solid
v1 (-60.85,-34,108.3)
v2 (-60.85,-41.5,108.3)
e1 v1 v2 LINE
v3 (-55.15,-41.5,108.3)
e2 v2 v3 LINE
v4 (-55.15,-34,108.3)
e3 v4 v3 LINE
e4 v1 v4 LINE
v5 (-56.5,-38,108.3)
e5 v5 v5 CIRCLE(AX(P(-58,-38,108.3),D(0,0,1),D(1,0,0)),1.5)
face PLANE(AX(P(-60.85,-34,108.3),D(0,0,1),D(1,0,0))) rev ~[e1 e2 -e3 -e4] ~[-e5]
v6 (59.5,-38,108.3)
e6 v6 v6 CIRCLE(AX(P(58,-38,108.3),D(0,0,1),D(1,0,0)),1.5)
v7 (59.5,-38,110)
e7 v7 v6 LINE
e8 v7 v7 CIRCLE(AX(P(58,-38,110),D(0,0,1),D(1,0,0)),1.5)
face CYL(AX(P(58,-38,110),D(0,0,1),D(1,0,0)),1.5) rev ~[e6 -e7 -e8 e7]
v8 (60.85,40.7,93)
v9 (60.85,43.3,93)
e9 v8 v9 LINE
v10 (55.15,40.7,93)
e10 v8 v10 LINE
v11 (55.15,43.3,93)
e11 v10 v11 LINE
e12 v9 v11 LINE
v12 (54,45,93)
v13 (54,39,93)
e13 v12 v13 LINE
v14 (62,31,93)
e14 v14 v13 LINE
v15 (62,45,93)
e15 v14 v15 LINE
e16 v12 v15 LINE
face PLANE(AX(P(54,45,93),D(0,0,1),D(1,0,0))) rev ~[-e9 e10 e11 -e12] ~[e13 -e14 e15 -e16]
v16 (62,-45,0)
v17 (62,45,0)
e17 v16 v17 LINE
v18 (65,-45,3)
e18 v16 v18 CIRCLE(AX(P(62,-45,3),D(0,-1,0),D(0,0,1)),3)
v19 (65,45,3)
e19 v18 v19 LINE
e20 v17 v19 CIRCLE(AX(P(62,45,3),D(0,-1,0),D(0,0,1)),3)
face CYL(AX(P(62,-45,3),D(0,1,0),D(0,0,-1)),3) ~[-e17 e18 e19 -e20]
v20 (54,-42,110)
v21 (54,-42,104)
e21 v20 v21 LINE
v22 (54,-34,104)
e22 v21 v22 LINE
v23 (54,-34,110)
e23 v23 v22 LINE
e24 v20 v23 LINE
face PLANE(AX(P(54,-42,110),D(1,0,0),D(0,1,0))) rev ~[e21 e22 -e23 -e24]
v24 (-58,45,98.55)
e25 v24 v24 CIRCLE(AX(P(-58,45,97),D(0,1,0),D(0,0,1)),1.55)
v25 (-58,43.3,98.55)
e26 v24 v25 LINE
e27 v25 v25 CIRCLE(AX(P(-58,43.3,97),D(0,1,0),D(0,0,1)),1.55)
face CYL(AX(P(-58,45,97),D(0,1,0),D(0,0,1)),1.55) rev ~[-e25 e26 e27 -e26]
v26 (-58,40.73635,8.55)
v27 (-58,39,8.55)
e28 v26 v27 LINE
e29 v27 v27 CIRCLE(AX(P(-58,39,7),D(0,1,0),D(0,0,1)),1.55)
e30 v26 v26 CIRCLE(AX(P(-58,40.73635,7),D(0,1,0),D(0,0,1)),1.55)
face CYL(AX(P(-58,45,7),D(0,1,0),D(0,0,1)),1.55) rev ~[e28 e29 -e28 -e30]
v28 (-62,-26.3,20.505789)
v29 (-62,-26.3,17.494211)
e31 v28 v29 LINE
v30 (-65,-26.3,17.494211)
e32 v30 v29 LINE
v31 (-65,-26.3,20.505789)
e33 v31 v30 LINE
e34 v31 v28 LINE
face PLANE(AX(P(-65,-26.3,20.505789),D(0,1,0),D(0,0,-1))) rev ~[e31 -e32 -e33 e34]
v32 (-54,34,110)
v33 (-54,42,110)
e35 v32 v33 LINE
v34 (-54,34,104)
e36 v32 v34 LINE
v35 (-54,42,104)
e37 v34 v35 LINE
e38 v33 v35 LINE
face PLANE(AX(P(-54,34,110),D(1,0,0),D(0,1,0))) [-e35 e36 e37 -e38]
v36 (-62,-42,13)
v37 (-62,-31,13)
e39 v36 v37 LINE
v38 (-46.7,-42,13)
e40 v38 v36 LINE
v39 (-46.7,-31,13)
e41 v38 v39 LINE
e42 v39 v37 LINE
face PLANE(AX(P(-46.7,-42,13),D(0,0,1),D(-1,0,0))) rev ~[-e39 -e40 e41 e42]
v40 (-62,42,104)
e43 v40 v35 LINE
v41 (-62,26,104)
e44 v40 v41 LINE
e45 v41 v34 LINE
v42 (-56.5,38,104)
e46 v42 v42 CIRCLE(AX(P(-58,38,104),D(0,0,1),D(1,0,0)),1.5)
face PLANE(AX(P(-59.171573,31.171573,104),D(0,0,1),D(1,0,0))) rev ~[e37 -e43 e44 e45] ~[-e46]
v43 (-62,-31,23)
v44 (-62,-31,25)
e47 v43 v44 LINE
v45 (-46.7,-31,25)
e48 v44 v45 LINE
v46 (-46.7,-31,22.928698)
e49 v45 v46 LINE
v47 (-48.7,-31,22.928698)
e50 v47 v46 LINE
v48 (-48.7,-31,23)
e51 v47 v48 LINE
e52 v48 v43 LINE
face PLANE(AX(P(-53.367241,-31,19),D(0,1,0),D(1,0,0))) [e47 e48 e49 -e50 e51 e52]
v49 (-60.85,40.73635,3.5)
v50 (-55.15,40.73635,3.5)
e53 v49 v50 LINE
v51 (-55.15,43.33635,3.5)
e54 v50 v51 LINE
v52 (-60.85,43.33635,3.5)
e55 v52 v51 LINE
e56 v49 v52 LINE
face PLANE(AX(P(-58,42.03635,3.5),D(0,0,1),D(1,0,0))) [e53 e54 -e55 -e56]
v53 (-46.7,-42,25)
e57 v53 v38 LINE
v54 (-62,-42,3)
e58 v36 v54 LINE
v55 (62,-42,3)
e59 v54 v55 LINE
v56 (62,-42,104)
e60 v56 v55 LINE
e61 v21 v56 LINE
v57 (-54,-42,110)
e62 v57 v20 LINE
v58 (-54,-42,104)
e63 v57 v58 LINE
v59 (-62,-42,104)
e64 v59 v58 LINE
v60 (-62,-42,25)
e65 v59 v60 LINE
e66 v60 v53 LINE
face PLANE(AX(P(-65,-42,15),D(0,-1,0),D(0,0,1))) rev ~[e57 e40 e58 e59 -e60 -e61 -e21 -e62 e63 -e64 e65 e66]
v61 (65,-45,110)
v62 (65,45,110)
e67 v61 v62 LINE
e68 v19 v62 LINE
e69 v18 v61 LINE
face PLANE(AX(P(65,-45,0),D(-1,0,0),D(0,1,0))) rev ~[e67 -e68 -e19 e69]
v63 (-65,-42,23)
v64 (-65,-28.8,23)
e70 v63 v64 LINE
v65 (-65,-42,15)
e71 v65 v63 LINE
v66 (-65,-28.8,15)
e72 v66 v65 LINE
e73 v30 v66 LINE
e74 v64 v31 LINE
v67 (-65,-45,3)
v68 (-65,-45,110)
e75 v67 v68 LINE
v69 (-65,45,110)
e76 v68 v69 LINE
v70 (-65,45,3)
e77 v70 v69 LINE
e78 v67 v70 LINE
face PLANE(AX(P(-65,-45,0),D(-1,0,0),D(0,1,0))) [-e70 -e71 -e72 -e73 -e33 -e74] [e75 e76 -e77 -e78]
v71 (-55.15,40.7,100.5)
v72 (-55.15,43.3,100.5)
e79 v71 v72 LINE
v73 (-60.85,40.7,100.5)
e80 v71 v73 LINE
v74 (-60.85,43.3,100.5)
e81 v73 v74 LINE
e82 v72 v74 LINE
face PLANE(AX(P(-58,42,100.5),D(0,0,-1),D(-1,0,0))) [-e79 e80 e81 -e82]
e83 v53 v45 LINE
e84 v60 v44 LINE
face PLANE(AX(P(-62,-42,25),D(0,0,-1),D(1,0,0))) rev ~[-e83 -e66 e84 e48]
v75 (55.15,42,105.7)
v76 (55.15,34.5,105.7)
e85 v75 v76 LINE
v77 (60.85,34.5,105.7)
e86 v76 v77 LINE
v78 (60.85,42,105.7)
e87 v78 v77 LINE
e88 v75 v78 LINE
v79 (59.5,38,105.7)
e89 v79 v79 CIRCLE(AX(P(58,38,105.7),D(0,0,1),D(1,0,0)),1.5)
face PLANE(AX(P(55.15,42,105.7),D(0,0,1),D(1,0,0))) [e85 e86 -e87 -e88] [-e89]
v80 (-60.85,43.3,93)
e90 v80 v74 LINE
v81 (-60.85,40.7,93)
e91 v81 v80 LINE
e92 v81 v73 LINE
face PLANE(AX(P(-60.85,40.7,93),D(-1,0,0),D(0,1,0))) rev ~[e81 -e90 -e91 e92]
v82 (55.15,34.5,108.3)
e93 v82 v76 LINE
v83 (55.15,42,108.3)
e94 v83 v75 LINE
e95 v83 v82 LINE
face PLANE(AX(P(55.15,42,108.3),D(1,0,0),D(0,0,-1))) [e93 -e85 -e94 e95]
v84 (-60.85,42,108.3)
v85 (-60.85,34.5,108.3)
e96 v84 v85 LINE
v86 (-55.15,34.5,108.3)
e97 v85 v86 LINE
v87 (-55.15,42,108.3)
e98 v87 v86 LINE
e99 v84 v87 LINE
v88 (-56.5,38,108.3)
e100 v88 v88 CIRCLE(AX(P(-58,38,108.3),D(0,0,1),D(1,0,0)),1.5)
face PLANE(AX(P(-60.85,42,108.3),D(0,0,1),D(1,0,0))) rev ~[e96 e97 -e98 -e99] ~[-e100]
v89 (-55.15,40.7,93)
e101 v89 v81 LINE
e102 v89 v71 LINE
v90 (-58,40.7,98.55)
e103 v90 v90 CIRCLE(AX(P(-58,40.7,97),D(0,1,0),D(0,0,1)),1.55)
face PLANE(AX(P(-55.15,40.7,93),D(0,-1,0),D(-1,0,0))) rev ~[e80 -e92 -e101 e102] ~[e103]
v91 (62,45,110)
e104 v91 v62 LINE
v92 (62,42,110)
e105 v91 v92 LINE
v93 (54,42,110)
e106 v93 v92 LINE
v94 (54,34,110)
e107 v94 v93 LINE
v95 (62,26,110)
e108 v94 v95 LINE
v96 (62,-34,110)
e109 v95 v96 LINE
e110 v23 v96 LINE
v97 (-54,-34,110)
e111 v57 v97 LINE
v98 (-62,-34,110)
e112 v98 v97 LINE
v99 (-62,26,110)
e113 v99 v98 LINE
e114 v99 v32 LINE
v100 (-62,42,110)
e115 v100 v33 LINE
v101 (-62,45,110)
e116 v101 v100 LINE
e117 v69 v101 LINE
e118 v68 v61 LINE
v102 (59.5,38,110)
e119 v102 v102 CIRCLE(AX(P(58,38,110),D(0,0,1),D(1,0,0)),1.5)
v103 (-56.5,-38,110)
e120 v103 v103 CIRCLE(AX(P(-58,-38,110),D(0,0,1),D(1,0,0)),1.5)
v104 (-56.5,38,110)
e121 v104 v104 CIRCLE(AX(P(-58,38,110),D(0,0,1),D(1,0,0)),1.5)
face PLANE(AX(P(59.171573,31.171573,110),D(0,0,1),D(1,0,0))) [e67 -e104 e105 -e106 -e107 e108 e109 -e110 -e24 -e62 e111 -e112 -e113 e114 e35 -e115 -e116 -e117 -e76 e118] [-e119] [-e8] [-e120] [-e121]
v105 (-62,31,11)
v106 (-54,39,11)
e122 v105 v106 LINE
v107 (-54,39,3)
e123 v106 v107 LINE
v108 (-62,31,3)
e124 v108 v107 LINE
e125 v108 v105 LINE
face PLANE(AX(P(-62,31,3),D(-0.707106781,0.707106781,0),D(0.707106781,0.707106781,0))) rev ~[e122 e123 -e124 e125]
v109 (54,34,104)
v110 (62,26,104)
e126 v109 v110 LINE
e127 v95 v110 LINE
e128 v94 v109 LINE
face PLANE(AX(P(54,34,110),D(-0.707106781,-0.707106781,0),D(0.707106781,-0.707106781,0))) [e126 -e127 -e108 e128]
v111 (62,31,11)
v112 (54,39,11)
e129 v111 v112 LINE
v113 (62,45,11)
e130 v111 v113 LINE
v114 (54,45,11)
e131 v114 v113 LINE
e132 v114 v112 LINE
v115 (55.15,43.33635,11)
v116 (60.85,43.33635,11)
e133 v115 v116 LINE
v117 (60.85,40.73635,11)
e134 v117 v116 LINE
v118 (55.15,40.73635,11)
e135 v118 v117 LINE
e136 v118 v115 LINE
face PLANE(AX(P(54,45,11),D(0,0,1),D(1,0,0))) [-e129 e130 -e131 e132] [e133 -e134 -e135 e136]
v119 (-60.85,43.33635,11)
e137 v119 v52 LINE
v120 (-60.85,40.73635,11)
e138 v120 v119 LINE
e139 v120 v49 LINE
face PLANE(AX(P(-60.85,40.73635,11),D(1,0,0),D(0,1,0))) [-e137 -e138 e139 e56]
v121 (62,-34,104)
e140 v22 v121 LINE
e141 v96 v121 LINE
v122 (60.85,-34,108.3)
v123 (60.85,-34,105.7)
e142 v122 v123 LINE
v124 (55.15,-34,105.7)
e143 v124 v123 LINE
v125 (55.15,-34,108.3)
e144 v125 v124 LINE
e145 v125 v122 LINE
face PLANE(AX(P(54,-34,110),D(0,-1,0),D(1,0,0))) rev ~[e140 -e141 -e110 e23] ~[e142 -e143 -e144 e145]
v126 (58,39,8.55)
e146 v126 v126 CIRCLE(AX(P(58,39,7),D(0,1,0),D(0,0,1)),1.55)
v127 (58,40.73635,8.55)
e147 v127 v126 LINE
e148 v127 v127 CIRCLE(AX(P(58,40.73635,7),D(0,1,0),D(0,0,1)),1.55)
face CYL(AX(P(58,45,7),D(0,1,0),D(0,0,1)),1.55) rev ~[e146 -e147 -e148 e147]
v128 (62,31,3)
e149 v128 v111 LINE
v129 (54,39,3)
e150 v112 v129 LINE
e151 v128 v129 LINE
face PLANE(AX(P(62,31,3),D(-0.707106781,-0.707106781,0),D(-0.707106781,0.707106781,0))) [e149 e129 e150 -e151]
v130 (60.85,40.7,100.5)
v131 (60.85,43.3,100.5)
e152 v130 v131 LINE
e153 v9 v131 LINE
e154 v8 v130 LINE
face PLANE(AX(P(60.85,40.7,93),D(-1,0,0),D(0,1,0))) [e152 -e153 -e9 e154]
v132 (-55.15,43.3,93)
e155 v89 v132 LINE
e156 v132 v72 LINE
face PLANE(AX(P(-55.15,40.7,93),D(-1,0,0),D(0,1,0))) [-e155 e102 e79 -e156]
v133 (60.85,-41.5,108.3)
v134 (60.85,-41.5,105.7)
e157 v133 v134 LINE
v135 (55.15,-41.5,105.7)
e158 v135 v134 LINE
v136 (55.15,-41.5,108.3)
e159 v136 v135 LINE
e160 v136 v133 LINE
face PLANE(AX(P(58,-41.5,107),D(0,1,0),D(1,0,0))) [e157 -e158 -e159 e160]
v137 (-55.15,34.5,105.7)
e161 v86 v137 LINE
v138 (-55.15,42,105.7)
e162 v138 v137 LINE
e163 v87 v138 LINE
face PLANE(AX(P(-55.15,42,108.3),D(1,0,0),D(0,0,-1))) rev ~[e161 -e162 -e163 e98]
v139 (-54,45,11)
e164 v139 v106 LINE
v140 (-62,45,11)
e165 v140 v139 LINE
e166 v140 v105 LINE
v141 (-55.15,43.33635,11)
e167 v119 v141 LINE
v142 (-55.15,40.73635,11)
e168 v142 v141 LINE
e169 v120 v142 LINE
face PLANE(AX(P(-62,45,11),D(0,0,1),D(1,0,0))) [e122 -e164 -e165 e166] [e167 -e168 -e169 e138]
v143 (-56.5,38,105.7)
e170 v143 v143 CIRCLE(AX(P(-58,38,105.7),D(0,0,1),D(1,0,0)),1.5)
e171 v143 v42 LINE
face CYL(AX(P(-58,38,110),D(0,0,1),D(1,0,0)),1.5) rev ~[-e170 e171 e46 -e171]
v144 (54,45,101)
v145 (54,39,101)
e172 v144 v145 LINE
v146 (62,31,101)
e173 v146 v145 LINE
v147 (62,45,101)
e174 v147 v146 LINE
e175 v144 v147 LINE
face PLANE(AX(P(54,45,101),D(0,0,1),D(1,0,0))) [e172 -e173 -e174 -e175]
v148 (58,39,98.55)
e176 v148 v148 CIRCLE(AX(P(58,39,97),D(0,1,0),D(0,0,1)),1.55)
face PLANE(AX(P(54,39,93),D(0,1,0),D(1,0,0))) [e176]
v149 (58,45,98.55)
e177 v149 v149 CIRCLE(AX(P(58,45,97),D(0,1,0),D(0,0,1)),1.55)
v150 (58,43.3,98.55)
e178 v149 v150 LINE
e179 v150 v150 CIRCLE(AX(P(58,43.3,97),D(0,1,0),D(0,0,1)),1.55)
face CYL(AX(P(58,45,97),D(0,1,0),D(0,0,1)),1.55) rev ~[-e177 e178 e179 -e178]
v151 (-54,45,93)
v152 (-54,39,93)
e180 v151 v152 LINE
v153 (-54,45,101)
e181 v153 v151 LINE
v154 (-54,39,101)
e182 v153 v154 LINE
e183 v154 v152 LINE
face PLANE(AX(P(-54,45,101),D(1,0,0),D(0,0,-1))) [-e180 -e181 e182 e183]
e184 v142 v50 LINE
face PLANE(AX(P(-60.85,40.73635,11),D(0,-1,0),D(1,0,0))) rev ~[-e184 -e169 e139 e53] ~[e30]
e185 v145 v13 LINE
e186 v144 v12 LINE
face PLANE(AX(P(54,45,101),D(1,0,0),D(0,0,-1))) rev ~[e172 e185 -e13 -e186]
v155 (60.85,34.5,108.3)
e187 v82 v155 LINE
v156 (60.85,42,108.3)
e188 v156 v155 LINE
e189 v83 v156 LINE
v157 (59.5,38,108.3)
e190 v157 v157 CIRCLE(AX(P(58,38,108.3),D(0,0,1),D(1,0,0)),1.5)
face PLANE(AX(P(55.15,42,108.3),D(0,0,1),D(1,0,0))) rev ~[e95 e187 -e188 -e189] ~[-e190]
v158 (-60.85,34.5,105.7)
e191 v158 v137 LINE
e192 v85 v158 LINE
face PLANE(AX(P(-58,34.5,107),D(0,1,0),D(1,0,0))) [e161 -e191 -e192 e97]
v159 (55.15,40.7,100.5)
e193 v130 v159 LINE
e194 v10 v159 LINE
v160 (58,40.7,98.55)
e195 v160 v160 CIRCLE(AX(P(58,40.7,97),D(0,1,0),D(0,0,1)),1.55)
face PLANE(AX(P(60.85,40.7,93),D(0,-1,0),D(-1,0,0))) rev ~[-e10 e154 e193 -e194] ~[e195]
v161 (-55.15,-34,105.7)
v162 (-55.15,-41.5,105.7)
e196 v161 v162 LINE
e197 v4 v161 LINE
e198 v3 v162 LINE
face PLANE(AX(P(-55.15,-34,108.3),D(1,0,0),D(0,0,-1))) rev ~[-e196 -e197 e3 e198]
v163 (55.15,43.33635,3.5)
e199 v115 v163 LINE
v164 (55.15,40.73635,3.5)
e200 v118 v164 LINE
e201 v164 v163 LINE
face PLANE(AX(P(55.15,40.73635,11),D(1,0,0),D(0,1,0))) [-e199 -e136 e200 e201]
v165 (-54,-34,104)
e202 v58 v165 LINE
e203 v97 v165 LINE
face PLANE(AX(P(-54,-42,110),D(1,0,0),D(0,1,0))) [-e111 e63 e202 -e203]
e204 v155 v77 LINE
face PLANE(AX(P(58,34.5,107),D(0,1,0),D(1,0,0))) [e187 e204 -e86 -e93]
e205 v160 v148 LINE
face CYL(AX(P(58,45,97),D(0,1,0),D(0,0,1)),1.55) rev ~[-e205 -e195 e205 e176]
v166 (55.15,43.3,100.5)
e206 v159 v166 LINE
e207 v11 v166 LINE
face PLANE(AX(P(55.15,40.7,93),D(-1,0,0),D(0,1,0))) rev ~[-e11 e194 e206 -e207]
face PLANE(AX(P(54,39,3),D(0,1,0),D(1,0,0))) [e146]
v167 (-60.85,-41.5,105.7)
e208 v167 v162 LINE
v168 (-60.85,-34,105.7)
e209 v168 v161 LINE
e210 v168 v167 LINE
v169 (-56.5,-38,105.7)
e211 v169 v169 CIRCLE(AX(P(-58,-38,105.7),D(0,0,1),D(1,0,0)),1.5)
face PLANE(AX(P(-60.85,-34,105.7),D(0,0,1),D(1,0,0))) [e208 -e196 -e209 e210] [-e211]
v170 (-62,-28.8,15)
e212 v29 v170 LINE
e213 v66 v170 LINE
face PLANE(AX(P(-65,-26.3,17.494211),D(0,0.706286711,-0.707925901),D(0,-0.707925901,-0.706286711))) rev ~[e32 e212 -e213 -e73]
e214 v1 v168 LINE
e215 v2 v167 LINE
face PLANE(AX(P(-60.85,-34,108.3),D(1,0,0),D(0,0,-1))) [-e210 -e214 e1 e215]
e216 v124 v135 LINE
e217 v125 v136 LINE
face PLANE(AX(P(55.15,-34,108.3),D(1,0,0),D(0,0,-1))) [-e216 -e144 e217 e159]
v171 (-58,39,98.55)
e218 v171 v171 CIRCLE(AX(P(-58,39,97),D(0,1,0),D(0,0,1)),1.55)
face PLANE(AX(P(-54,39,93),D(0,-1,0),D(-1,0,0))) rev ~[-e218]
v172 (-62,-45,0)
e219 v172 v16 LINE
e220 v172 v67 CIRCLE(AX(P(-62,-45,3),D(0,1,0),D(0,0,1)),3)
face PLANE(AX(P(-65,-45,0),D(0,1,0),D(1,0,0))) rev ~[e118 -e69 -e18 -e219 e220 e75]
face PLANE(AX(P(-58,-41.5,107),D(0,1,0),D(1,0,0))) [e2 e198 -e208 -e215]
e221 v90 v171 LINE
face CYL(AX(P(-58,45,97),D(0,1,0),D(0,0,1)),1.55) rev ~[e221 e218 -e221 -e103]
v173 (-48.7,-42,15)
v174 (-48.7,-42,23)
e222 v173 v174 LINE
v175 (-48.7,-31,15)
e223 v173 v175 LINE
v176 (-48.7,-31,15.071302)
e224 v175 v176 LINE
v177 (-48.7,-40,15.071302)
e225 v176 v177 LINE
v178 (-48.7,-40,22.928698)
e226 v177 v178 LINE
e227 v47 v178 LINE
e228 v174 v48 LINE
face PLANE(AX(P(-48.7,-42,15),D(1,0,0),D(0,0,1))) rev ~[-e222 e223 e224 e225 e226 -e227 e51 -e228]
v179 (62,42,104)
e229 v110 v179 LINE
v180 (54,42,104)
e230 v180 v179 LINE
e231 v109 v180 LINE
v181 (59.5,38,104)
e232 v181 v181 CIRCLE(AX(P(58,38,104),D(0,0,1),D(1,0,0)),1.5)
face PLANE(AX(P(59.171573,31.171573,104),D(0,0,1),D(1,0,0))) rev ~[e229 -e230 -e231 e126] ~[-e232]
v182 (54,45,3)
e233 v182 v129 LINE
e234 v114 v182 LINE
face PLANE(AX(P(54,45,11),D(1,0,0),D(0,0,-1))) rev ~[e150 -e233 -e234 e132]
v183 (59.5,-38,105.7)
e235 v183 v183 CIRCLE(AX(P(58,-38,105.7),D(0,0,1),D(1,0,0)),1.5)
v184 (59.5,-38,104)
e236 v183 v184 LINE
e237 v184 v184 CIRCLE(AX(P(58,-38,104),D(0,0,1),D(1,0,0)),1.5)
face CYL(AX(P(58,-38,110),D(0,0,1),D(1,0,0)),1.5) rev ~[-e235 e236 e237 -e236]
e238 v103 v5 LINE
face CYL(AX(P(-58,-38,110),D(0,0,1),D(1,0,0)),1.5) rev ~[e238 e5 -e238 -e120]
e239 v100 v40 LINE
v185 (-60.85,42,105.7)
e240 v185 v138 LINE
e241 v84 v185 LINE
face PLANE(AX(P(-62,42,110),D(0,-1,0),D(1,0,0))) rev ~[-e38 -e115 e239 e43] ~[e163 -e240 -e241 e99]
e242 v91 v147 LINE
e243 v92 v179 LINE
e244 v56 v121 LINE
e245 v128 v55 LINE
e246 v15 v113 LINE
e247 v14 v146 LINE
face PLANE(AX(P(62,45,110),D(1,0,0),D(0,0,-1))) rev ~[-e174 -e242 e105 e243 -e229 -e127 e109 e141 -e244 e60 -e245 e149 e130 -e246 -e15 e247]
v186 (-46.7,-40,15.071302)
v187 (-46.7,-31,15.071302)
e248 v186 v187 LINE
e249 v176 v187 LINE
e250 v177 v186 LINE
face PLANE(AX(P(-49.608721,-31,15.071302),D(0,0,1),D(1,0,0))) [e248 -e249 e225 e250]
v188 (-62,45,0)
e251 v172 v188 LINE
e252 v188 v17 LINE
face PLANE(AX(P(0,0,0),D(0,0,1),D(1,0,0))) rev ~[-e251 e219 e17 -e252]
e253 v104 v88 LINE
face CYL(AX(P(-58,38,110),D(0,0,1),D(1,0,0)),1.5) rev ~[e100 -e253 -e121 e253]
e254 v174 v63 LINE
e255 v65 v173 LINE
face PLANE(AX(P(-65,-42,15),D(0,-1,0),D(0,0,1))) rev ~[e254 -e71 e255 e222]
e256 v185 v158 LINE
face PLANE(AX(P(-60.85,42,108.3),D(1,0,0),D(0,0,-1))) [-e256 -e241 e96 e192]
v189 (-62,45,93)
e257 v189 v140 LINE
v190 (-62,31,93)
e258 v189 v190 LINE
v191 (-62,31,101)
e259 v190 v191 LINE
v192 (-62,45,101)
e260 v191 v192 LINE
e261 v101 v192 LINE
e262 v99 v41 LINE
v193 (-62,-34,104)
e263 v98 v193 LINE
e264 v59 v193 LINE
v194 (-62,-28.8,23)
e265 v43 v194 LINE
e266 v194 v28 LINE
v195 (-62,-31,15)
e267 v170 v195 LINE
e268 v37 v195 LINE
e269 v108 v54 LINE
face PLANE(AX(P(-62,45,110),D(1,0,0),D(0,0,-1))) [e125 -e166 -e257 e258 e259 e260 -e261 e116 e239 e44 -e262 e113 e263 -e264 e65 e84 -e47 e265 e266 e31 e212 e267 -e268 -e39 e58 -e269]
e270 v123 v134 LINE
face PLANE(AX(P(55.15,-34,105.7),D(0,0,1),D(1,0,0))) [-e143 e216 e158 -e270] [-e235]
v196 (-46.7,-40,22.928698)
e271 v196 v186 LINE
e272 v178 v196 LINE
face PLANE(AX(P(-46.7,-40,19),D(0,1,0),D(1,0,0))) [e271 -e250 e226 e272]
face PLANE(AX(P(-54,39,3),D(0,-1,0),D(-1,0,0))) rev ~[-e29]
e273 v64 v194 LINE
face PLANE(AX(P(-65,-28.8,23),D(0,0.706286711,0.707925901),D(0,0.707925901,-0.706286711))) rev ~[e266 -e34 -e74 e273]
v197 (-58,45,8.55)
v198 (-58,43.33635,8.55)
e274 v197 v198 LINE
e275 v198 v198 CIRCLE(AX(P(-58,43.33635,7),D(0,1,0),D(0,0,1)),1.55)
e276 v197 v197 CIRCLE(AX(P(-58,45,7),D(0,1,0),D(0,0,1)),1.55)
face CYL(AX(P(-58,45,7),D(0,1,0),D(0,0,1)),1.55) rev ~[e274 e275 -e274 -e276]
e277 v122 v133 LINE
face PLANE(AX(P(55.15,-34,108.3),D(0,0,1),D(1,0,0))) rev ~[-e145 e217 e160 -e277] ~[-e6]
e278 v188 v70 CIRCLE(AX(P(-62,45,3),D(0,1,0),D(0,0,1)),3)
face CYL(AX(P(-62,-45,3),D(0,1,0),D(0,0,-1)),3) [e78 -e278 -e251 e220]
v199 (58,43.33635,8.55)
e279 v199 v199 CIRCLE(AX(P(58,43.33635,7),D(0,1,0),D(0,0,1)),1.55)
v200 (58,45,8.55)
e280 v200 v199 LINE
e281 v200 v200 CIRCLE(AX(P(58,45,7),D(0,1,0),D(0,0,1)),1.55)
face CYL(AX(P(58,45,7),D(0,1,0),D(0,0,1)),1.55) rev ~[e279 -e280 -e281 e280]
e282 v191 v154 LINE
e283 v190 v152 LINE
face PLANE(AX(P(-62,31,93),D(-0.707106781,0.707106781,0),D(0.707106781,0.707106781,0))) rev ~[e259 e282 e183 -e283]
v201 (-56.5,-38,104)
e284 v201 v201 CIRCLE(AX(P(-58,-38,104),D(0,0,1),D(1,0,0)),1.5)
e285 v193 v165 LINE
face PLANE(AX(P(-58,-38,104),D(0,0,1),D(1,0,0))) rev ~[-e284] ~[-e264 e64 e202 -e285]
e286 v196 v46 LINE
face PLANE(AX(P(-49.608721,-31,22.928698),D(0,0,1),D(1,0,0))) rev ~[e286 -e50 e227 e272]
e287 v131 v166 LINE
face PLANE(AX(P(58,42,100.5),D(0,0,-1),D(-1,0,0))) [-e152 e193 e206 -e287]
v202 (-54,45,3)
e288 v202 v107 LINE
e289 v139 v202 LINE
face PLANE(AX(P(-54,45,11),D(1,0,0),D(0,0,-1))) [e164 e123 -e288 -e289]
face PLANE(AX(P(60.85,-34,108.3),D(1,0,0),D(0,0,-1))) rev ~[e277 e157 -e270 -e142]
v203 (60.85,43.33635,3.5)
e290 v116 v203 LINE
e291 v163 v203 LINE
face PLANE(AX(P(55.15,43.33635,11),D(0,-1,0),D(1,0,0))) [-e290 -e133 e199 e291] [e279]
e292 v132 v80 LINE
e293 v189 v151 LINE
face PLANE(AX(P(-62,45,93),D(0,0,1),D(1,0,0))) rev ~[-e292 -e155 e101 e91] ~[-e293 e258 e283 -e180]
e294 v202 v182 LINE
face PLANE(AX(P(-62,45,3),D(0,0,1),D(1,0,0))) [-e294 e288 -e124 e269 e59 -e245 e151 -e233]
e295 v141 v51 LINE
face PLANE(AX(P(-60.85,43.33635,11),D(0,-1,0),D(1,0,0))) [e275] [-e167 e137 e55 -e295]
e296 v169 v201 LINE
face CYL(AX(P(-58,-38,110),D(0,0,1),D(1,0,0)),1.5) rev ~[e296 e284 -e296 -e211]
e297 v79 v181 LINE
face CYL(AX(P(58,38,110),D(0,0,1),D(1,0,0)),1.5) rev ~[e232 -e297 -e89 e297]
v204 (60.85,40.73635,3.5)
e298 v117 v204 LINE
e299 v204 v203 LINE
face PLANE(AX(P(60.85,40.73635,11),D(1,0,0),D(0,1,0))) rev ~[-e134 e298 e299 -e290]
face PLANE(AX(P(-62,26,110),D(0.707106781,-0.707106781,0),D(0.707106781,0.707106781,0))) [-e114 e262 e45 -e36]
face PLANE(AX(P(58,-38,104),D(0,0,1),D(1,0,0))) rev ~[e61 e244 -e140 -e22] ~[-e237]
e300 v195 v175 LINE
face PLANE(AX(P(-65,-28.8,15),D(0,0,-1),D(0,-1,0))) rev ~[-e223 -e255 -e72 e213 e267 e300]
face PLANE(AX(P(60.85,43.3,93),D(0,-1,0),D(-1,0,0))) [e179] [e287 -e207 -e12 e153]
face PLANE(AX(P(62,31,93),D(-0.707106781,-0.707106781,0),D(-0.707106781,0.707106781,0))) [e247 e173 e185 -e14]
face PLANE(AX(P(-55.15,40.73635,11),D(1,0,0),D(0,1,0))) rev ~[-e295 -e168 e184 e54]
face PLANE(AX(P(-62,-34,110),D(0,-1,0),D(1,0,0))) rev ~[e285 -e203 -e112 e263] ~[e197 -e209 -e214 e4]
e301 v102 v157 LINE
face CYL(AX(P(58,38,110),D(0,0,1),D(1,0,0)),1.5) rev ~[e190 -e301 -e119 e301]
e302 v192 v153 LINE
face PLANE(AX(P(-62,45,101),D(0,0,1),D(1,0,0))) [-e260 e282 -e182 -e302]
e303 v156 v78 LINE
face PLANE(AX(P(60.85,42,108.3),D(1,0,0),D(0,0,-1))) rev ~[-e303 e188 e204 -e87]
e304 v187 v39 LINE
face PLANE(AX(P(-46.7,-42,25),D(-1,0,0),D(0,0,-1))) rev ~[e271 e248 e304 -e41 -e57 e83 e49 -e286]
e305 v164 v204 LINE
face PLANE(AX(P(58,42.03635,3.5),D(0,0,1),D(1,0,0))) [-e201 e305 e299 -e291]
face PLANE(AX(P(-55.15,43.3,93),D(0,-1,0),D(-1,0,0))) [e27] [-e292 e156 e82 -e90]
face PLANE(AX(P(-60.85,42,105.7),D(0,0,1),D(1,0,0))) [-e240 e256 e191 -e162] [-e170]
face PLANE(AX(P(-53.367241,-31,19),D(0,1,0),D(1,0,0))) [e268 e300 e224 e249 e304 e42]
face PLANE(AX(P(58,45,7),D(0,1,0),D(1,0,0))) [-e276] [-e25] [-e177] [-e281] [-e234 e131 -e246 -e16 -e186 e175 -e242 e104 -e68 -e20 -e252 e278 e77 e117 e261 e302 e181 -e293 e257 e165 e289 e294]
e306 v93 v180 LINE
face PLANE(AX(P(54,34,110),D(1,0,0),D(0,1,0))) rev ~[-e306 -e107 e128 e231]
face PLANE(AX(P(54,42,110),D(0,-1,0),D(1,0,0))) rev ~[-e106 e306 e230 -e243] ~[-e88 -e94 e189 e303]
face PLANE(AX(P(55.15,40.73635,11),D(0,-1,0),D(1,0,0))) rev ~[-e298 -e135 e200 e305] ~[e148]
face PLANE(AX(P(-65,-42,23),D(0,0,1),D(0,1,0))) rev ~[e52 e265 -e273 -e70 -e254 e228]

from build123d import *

# Parameters (mm, degrees)
SKETCH_2_W                  = 130
SKETCH_2_H                  = 90
EXTRUDE_1_DEPTH             = 110
SKETCH_3_W                  = 124
SKETCH_3_H                  = 107
CUT_EXTRUDE_1_DEPTH         = 87
CUT_EXTRUDE_5_REACH         = 178.139
EXTRUDE_5_DEPTH             = 11
SKETCH_16_W                 = 5.817441426
SKETCH_16_H                 = 7.857396668
CUT_EXTRUDE_6_DEPTH         = 9
FILLET_8_R                  = 3
FILLET_9_R                  = 3
SKETCH_17_W                 = 8
SKETCH_17_H                 = 8
SKETCH_17_R                 = 1.5
EXTRUDE_6_DEPTH             = 6
PATTERN_LINEAR_1_COUNT      = 2
PATTERN_LINEAR_1_PITCH      = 116
PATTERN_LINEAR_1_COUNT_DIR2 = 2
PATTERN_LINEAR_1_PITCH_DIR2 = 76
EXTRUDE_7_DEPTH             = 6
EXTRUDE_8_DEPTH             = 6
SKETCH_20_W                 = 5.7
SKETCH_20_H                 = 2.6
CUT_EXTRUDE_7_DEPTH         = 7.5
PATTERN_LINEAR_2_COUNT      = 2
PATTERN_LINEAR_2_PITCH      = 116
PATTERN_LINEAR_2_COUNT_DIR2 = 2
PATTERN_LINEAR_2_PITCH_DIR2 = 76
SKETCH_23_W                 = 8
SKETCH_23_H                 = 8
SKETCH_23_R                 = 1.55
EXTRUDE_9_DEPTH             = 6
PATTERN_LINEAR_3_COUNT      = 2
PATTERN_LINEAR_3_PITCH      = 116
PATTERN_LINEAR_3_COUNT_DIR2 = 2
PATTERN_LINEAR_3_PITCH_DIR2 = 90
EXTRUDE_10_DEPTH            = 8
EXTRUDE_11_DEPTH            = 8
PATTERN_LINEAR_4_COUNT      = 2
PATTERN_LINEAR_4_PITCH      = 90
PATTERN_LINEAR_5_COUNT      = 2
PATTERN_LINEAR_5_PITCH      = 90
SKETCH_27_W                 = 5.7
SKETCH_27_H                 = 2.6
CUT_EXTRUDE_8_DEPTH         = 7.5
PATTERN_LINEAR_6_COUNT      = 2
PATTERN_LINEAR_6_PITCH      = 116
SKETCH_28_W                 = 5.7
SKETCH_28_H                 = 2.6
CUT_EXTRUDE_9_DEPTH         = 7.5
PATTERN_LINEAR_7_COUNT      = 2
PATTERN_LINEAR_7_PITCH      = 116


with BuildPart() as part:
    # Эскиз2 → Бобышка-Вытянуть1 (new body)
    with BuildSketch(Plane.XY):
        Rectangle(SKETCH_2_W, SKETCH_2_H)
    extrude(amount=EXTRUDE_1_DEPTH)

    # Эскиз3 → Вырез-Вытянуть1 (cut)
    with BuildSketch(Plane(origin=(0, 45, 0), x_dir=(1, 0, 0), z_dir=(0, 1, 0))):
        with Locations((0, -56.5)):
            Rectangle(SKETCH_3_W, SKETCH_3_H)
    extrude(amount=-CUT_EXTRUDE_1_DEPTH, mode=Mode.SUBTRACT)

    # Эскиз13 → Вырез-Вытянуть5 (cut, up to next)
    with BuildSketch(Plane.ZY.offset(65), mode=Mode.PRIVATE) as cut_extrude_5_sk1:
        Polygon((15, -42), (23, -42), (23, -28.8), (20.505788704, -26.3), (17.494211296, -26.3), (15, -28.8), align=None)
    cut_extrude_5_tool1 = extrude(cut_extrude_5_sk1.sketch, amount=-CUT_EXTRUDE_5_REACH, mode=Mode.PRIVATE) & part.part
    add(cut_extrude_5_tool1.solids().sort_by_distance((-65, -34.516546, 19))[0], mode=Mode.SUBTRACT)

    # Эскиз15 → Бобышка-Вытянуть5 (add)
    with BuildSketch(Plane(origin=(0, -42, 0), x_dir=(1, 0, 0), z_dir=(0, 1, 0))):
        Polygon((-62, -25), (-46.7, -25), (-46.7, -13), (-62, -13), (-62, -15), (-48.7, -15), (-48.7, -23), (-62, -23), align=None)
    extrude(amount=EXTRUDE_5_DEPTH)

    # Эскиз16 → Вырез-Вытянуть6 (cut)
    with BuildSketch(Plane(origin=(0, -31, 0), x_dir=(1, 0, 0), z_dir=(0, 1, 0))):
        with Locations((-46.7, -19)):
            Rectangle(SKETCH_16_W, SKETCH_16_H)
    extrude(amount=-CUT_EXTRUDE_6_DEPTH, mode=Mode.SUBTRACT)

    # Скругление8
    fillet_8_edges = [part.edges().sort_by_distance(p)[0] for p in [
        (-65, 0, 0),
    ]]
    fillet(fillet_8_edges, radius=FILLET_8_R)

    # Скругление9
    fillet_9_edges = [part.edges().sort_by_distance(p)[0] for p in [
        (65, 0, 0),
    ]]
    fillet(fillet_9_edges, radius=FILLET_9_R)

    # Эскиз17 → Бобышка-Вытянуть6 (add)
    with BuildSketch(Plane.XY.offset(110)):
        with Locations((-58, -38)):
            Rectangle(SKETCH_17_W, SKETCH_17_H)
        with Locations((-58, -38)):
            Circle(SKETCH_17_R, mode=Mode.SUBTRACT)
    extrude_6 = extrude(amount=-EXTRUDE_6_DEPTH)

    # Линейный массив1: Extrude 6 2 × 2
    with Locations(*[(i * PATTERN_LINEAR_1_PITCH, j * PATTERN_LINEAR_1_PITCH_DIR2, 0) for i in range(PATTERN_LINEAR_1_COUNT) for j in range(PATTERN_LINEAR_1_COUNT_DIR2) if (i, j) != (0, 0)]):
        add(extrude_6)

    # Эскиз18 → Бобышка-Вытянуть7 (add)
    with BuildSketch(Plane.XY.offset(110)):
        Polygon((-54, 34), (-62, 34), (-62, 26), align=None)
    extrude(amount=-EXTRUDE_7_DEPTH)

    # Эскиз19 → Бобышка-Вытянуть8 (add)
    with BuildSketch(Plane.XY.offset(110)):
        Polygon((62, 34), (54, 34), (62, 26), align=None)
    extrude(amount=-EXTRUDE_8_DEPTH)

    # Эскиз20 → Вырез-Вытянуть7 (cut)
    with BuildSketch(Plane(origin=(0, -34, 0), x_dir=(1, 0, 0), z_dir=(0, 1, 0))):
        with Locations((-58, -107)):
            Rectangle(SKETCH_20_W, SKETCH_20_H)
    cut_extrude_7 = extrude(amount=-CUT_EXTRUDE_7_DEPTH, mode=Mode.SUBTRACT)

    # Линейный массив2: Cut-Extrude 7 2 × 2
    with Locations(*[(i * PATTERN_LINEAR_2_PITCH, j * PATTERN_LINEAR_2_PITCH_DIR2, 0) for i in range(PATTERN_LINEAR_2_COUNT) for j in range(PATTERN_LINEAR_2_COUNT_DIR2) if (i, j) != (0, 0)]):
        add(cut_extrude_7, mode=Mode.SUBTRACT)



with BuildPart() as body_2:
    # Эскиз23 → Бобышка-Вытянуть9 (new body)
    with BuildSketch(Plane(origin=(0, 45, 0), x_dir=(1, 0, 0), z_dir=(0, 1, 0))):
        with Locations((-58, -7)):
            Rectangle(SKETCH_23_W, SKETCH_23_H)
        with Locations(Location((-58, -7, 0), (0, 0, 270))):
            Circle(SKETCH_23_R, mode=Mode.SUBTRACT)
    extrude_9 = extrude(amount=-EXTRUDE_9_DEPTH)


with BuildPart() as pattern_linear_3_1:
    # Линейный массив3: pattern copy
    add(extrude_9.moved(Location(Vector(1, 0, 0) * (0 * PATTERN_LINEAR_3_PITCH) + Vector(0, 0, 1) * (1 * PATTERN_LINEAR_3_PITCH_DIR2))))


with BuildPart() as pattern_linear_3_2:
    # Линейный массив3: pattern copy
    add(extrude_9.moved(Location(Vector(1, 0, 0) * (1 * PATTERN_LINEAR_3_PITCH) + Vector(0, 0, 1) * (0 * PATTERN_LINEAR_3_PITCH_DIR2))))


with BuildPart() as pattern_linear_3_3:
    # Линейный массив3: pattern copy
    add(extrude_9.moved(Location(Vector(1, 0, 0) * (1 * PATTERN_LINEAR_3_PITCH) + Vector(0, 0, 1) * (1 * PATTERN_LINEAR_3_PITCH_DIR2))))


with BuildPart() as part_1:
    add(part.part)

    add(body_2.part)  # Бобышка-Вытянуть10 merges body 2
    # Эскиз24 → Бобышка-Вытянуть10 (add)
    with BuildSketch(Plane.XY.offset(3)):
        Polygon((-54, 39), (-62, 39), (-62, 31), align=None)
    extrude_10 = extrude(amount=EXTRUDE_10_DEPTH)


    add(pattern_linear_3_2.part)  # Бобышка-Вытянуть11 merges Линейный массив3_2
    # Эскиз25 → Бобышка-Вытянуть11 (add)
    with BuildSketch(Plane.XY.offset(3)):
        Polygon((54, 39), (62, 39), (62, 31), align=None)
    extrude_11 = extrude(amount=EXTRUDE_11_DEPTH)


    add(pattern_linear_3_1.part)  # Линейный массив4 merges Линейный массив3_1
    # Линейный массив4: Бобышка-Вытянуть10 ×2
    with Locations(*[(0, 0, i * PATTERN_LINEAR_4_PITCH) for i in range(1, PATTERN_LINEAR_4_COUNT)]):
        add(extrude_10)


    add(pattern_linear_3_3.part)  # Линейный массив5 merges Линейный массив3_3
    # Линейный массив5: Бобышка-Вытянуть11 ×2
    with Locations(*[(0, 0, i * PATTERN_LINEAR_5_PITCH) for i in range(1, PATTERN_LINEAR_5_COUNT)]):
        add(extrude_11)

    # Эскиз27 → Вырез-Вытянуть8 (cut)
    with BuildSketch(Plane.XY.offset(11)):
        with Locations((-58, 42.036350265)):
            Rectangle(SKETCH_27_W, SKETCH_27_H)
    cut_extrude_8 = extrude(amount=-CUT_EXTRUDE_8_DEPTH, mode=Mode.SUBTRACT)

    # Линейный массив6: Вырез-Вытянуть8 ×2
    with Locations(*[(i * PATTERN_LINEAR_6_PITCH, 0, 0) for i in range(1, PATTERN_LINEAR_6_COUNT)]):
        add(cut_extrude_8, mode=Mode.SUBTRACT)

    # Эскиз28 → Вырез-Вытянуть9 (cut)
    with BuildSketch(Plane(origin=(0, 0, 93), x_dir=(-1, 0, 0), z_dir=(0, 0, -1))):
        with Locations((-58, 42)):
            Rectangle(SKETCH_28_W, SKETCH_28_H)
    cut_extrude_9 = extrude(amount=-CUT_EXTRUDE_9_DEPTH, mode=Mode.SUBTRACT)

    # Линейный массив7: Вырез-Вытянуть9 ×2
    with Locations(*[(-i * PATTERN_LINEAR_7_PITCH, 0, 0) for i in range(1, PATTERN_LINEAR_7_COUNT)]):
        add(cut_extrude_9, mode=Mode.SUBTRACT)


solid = part_1.part
